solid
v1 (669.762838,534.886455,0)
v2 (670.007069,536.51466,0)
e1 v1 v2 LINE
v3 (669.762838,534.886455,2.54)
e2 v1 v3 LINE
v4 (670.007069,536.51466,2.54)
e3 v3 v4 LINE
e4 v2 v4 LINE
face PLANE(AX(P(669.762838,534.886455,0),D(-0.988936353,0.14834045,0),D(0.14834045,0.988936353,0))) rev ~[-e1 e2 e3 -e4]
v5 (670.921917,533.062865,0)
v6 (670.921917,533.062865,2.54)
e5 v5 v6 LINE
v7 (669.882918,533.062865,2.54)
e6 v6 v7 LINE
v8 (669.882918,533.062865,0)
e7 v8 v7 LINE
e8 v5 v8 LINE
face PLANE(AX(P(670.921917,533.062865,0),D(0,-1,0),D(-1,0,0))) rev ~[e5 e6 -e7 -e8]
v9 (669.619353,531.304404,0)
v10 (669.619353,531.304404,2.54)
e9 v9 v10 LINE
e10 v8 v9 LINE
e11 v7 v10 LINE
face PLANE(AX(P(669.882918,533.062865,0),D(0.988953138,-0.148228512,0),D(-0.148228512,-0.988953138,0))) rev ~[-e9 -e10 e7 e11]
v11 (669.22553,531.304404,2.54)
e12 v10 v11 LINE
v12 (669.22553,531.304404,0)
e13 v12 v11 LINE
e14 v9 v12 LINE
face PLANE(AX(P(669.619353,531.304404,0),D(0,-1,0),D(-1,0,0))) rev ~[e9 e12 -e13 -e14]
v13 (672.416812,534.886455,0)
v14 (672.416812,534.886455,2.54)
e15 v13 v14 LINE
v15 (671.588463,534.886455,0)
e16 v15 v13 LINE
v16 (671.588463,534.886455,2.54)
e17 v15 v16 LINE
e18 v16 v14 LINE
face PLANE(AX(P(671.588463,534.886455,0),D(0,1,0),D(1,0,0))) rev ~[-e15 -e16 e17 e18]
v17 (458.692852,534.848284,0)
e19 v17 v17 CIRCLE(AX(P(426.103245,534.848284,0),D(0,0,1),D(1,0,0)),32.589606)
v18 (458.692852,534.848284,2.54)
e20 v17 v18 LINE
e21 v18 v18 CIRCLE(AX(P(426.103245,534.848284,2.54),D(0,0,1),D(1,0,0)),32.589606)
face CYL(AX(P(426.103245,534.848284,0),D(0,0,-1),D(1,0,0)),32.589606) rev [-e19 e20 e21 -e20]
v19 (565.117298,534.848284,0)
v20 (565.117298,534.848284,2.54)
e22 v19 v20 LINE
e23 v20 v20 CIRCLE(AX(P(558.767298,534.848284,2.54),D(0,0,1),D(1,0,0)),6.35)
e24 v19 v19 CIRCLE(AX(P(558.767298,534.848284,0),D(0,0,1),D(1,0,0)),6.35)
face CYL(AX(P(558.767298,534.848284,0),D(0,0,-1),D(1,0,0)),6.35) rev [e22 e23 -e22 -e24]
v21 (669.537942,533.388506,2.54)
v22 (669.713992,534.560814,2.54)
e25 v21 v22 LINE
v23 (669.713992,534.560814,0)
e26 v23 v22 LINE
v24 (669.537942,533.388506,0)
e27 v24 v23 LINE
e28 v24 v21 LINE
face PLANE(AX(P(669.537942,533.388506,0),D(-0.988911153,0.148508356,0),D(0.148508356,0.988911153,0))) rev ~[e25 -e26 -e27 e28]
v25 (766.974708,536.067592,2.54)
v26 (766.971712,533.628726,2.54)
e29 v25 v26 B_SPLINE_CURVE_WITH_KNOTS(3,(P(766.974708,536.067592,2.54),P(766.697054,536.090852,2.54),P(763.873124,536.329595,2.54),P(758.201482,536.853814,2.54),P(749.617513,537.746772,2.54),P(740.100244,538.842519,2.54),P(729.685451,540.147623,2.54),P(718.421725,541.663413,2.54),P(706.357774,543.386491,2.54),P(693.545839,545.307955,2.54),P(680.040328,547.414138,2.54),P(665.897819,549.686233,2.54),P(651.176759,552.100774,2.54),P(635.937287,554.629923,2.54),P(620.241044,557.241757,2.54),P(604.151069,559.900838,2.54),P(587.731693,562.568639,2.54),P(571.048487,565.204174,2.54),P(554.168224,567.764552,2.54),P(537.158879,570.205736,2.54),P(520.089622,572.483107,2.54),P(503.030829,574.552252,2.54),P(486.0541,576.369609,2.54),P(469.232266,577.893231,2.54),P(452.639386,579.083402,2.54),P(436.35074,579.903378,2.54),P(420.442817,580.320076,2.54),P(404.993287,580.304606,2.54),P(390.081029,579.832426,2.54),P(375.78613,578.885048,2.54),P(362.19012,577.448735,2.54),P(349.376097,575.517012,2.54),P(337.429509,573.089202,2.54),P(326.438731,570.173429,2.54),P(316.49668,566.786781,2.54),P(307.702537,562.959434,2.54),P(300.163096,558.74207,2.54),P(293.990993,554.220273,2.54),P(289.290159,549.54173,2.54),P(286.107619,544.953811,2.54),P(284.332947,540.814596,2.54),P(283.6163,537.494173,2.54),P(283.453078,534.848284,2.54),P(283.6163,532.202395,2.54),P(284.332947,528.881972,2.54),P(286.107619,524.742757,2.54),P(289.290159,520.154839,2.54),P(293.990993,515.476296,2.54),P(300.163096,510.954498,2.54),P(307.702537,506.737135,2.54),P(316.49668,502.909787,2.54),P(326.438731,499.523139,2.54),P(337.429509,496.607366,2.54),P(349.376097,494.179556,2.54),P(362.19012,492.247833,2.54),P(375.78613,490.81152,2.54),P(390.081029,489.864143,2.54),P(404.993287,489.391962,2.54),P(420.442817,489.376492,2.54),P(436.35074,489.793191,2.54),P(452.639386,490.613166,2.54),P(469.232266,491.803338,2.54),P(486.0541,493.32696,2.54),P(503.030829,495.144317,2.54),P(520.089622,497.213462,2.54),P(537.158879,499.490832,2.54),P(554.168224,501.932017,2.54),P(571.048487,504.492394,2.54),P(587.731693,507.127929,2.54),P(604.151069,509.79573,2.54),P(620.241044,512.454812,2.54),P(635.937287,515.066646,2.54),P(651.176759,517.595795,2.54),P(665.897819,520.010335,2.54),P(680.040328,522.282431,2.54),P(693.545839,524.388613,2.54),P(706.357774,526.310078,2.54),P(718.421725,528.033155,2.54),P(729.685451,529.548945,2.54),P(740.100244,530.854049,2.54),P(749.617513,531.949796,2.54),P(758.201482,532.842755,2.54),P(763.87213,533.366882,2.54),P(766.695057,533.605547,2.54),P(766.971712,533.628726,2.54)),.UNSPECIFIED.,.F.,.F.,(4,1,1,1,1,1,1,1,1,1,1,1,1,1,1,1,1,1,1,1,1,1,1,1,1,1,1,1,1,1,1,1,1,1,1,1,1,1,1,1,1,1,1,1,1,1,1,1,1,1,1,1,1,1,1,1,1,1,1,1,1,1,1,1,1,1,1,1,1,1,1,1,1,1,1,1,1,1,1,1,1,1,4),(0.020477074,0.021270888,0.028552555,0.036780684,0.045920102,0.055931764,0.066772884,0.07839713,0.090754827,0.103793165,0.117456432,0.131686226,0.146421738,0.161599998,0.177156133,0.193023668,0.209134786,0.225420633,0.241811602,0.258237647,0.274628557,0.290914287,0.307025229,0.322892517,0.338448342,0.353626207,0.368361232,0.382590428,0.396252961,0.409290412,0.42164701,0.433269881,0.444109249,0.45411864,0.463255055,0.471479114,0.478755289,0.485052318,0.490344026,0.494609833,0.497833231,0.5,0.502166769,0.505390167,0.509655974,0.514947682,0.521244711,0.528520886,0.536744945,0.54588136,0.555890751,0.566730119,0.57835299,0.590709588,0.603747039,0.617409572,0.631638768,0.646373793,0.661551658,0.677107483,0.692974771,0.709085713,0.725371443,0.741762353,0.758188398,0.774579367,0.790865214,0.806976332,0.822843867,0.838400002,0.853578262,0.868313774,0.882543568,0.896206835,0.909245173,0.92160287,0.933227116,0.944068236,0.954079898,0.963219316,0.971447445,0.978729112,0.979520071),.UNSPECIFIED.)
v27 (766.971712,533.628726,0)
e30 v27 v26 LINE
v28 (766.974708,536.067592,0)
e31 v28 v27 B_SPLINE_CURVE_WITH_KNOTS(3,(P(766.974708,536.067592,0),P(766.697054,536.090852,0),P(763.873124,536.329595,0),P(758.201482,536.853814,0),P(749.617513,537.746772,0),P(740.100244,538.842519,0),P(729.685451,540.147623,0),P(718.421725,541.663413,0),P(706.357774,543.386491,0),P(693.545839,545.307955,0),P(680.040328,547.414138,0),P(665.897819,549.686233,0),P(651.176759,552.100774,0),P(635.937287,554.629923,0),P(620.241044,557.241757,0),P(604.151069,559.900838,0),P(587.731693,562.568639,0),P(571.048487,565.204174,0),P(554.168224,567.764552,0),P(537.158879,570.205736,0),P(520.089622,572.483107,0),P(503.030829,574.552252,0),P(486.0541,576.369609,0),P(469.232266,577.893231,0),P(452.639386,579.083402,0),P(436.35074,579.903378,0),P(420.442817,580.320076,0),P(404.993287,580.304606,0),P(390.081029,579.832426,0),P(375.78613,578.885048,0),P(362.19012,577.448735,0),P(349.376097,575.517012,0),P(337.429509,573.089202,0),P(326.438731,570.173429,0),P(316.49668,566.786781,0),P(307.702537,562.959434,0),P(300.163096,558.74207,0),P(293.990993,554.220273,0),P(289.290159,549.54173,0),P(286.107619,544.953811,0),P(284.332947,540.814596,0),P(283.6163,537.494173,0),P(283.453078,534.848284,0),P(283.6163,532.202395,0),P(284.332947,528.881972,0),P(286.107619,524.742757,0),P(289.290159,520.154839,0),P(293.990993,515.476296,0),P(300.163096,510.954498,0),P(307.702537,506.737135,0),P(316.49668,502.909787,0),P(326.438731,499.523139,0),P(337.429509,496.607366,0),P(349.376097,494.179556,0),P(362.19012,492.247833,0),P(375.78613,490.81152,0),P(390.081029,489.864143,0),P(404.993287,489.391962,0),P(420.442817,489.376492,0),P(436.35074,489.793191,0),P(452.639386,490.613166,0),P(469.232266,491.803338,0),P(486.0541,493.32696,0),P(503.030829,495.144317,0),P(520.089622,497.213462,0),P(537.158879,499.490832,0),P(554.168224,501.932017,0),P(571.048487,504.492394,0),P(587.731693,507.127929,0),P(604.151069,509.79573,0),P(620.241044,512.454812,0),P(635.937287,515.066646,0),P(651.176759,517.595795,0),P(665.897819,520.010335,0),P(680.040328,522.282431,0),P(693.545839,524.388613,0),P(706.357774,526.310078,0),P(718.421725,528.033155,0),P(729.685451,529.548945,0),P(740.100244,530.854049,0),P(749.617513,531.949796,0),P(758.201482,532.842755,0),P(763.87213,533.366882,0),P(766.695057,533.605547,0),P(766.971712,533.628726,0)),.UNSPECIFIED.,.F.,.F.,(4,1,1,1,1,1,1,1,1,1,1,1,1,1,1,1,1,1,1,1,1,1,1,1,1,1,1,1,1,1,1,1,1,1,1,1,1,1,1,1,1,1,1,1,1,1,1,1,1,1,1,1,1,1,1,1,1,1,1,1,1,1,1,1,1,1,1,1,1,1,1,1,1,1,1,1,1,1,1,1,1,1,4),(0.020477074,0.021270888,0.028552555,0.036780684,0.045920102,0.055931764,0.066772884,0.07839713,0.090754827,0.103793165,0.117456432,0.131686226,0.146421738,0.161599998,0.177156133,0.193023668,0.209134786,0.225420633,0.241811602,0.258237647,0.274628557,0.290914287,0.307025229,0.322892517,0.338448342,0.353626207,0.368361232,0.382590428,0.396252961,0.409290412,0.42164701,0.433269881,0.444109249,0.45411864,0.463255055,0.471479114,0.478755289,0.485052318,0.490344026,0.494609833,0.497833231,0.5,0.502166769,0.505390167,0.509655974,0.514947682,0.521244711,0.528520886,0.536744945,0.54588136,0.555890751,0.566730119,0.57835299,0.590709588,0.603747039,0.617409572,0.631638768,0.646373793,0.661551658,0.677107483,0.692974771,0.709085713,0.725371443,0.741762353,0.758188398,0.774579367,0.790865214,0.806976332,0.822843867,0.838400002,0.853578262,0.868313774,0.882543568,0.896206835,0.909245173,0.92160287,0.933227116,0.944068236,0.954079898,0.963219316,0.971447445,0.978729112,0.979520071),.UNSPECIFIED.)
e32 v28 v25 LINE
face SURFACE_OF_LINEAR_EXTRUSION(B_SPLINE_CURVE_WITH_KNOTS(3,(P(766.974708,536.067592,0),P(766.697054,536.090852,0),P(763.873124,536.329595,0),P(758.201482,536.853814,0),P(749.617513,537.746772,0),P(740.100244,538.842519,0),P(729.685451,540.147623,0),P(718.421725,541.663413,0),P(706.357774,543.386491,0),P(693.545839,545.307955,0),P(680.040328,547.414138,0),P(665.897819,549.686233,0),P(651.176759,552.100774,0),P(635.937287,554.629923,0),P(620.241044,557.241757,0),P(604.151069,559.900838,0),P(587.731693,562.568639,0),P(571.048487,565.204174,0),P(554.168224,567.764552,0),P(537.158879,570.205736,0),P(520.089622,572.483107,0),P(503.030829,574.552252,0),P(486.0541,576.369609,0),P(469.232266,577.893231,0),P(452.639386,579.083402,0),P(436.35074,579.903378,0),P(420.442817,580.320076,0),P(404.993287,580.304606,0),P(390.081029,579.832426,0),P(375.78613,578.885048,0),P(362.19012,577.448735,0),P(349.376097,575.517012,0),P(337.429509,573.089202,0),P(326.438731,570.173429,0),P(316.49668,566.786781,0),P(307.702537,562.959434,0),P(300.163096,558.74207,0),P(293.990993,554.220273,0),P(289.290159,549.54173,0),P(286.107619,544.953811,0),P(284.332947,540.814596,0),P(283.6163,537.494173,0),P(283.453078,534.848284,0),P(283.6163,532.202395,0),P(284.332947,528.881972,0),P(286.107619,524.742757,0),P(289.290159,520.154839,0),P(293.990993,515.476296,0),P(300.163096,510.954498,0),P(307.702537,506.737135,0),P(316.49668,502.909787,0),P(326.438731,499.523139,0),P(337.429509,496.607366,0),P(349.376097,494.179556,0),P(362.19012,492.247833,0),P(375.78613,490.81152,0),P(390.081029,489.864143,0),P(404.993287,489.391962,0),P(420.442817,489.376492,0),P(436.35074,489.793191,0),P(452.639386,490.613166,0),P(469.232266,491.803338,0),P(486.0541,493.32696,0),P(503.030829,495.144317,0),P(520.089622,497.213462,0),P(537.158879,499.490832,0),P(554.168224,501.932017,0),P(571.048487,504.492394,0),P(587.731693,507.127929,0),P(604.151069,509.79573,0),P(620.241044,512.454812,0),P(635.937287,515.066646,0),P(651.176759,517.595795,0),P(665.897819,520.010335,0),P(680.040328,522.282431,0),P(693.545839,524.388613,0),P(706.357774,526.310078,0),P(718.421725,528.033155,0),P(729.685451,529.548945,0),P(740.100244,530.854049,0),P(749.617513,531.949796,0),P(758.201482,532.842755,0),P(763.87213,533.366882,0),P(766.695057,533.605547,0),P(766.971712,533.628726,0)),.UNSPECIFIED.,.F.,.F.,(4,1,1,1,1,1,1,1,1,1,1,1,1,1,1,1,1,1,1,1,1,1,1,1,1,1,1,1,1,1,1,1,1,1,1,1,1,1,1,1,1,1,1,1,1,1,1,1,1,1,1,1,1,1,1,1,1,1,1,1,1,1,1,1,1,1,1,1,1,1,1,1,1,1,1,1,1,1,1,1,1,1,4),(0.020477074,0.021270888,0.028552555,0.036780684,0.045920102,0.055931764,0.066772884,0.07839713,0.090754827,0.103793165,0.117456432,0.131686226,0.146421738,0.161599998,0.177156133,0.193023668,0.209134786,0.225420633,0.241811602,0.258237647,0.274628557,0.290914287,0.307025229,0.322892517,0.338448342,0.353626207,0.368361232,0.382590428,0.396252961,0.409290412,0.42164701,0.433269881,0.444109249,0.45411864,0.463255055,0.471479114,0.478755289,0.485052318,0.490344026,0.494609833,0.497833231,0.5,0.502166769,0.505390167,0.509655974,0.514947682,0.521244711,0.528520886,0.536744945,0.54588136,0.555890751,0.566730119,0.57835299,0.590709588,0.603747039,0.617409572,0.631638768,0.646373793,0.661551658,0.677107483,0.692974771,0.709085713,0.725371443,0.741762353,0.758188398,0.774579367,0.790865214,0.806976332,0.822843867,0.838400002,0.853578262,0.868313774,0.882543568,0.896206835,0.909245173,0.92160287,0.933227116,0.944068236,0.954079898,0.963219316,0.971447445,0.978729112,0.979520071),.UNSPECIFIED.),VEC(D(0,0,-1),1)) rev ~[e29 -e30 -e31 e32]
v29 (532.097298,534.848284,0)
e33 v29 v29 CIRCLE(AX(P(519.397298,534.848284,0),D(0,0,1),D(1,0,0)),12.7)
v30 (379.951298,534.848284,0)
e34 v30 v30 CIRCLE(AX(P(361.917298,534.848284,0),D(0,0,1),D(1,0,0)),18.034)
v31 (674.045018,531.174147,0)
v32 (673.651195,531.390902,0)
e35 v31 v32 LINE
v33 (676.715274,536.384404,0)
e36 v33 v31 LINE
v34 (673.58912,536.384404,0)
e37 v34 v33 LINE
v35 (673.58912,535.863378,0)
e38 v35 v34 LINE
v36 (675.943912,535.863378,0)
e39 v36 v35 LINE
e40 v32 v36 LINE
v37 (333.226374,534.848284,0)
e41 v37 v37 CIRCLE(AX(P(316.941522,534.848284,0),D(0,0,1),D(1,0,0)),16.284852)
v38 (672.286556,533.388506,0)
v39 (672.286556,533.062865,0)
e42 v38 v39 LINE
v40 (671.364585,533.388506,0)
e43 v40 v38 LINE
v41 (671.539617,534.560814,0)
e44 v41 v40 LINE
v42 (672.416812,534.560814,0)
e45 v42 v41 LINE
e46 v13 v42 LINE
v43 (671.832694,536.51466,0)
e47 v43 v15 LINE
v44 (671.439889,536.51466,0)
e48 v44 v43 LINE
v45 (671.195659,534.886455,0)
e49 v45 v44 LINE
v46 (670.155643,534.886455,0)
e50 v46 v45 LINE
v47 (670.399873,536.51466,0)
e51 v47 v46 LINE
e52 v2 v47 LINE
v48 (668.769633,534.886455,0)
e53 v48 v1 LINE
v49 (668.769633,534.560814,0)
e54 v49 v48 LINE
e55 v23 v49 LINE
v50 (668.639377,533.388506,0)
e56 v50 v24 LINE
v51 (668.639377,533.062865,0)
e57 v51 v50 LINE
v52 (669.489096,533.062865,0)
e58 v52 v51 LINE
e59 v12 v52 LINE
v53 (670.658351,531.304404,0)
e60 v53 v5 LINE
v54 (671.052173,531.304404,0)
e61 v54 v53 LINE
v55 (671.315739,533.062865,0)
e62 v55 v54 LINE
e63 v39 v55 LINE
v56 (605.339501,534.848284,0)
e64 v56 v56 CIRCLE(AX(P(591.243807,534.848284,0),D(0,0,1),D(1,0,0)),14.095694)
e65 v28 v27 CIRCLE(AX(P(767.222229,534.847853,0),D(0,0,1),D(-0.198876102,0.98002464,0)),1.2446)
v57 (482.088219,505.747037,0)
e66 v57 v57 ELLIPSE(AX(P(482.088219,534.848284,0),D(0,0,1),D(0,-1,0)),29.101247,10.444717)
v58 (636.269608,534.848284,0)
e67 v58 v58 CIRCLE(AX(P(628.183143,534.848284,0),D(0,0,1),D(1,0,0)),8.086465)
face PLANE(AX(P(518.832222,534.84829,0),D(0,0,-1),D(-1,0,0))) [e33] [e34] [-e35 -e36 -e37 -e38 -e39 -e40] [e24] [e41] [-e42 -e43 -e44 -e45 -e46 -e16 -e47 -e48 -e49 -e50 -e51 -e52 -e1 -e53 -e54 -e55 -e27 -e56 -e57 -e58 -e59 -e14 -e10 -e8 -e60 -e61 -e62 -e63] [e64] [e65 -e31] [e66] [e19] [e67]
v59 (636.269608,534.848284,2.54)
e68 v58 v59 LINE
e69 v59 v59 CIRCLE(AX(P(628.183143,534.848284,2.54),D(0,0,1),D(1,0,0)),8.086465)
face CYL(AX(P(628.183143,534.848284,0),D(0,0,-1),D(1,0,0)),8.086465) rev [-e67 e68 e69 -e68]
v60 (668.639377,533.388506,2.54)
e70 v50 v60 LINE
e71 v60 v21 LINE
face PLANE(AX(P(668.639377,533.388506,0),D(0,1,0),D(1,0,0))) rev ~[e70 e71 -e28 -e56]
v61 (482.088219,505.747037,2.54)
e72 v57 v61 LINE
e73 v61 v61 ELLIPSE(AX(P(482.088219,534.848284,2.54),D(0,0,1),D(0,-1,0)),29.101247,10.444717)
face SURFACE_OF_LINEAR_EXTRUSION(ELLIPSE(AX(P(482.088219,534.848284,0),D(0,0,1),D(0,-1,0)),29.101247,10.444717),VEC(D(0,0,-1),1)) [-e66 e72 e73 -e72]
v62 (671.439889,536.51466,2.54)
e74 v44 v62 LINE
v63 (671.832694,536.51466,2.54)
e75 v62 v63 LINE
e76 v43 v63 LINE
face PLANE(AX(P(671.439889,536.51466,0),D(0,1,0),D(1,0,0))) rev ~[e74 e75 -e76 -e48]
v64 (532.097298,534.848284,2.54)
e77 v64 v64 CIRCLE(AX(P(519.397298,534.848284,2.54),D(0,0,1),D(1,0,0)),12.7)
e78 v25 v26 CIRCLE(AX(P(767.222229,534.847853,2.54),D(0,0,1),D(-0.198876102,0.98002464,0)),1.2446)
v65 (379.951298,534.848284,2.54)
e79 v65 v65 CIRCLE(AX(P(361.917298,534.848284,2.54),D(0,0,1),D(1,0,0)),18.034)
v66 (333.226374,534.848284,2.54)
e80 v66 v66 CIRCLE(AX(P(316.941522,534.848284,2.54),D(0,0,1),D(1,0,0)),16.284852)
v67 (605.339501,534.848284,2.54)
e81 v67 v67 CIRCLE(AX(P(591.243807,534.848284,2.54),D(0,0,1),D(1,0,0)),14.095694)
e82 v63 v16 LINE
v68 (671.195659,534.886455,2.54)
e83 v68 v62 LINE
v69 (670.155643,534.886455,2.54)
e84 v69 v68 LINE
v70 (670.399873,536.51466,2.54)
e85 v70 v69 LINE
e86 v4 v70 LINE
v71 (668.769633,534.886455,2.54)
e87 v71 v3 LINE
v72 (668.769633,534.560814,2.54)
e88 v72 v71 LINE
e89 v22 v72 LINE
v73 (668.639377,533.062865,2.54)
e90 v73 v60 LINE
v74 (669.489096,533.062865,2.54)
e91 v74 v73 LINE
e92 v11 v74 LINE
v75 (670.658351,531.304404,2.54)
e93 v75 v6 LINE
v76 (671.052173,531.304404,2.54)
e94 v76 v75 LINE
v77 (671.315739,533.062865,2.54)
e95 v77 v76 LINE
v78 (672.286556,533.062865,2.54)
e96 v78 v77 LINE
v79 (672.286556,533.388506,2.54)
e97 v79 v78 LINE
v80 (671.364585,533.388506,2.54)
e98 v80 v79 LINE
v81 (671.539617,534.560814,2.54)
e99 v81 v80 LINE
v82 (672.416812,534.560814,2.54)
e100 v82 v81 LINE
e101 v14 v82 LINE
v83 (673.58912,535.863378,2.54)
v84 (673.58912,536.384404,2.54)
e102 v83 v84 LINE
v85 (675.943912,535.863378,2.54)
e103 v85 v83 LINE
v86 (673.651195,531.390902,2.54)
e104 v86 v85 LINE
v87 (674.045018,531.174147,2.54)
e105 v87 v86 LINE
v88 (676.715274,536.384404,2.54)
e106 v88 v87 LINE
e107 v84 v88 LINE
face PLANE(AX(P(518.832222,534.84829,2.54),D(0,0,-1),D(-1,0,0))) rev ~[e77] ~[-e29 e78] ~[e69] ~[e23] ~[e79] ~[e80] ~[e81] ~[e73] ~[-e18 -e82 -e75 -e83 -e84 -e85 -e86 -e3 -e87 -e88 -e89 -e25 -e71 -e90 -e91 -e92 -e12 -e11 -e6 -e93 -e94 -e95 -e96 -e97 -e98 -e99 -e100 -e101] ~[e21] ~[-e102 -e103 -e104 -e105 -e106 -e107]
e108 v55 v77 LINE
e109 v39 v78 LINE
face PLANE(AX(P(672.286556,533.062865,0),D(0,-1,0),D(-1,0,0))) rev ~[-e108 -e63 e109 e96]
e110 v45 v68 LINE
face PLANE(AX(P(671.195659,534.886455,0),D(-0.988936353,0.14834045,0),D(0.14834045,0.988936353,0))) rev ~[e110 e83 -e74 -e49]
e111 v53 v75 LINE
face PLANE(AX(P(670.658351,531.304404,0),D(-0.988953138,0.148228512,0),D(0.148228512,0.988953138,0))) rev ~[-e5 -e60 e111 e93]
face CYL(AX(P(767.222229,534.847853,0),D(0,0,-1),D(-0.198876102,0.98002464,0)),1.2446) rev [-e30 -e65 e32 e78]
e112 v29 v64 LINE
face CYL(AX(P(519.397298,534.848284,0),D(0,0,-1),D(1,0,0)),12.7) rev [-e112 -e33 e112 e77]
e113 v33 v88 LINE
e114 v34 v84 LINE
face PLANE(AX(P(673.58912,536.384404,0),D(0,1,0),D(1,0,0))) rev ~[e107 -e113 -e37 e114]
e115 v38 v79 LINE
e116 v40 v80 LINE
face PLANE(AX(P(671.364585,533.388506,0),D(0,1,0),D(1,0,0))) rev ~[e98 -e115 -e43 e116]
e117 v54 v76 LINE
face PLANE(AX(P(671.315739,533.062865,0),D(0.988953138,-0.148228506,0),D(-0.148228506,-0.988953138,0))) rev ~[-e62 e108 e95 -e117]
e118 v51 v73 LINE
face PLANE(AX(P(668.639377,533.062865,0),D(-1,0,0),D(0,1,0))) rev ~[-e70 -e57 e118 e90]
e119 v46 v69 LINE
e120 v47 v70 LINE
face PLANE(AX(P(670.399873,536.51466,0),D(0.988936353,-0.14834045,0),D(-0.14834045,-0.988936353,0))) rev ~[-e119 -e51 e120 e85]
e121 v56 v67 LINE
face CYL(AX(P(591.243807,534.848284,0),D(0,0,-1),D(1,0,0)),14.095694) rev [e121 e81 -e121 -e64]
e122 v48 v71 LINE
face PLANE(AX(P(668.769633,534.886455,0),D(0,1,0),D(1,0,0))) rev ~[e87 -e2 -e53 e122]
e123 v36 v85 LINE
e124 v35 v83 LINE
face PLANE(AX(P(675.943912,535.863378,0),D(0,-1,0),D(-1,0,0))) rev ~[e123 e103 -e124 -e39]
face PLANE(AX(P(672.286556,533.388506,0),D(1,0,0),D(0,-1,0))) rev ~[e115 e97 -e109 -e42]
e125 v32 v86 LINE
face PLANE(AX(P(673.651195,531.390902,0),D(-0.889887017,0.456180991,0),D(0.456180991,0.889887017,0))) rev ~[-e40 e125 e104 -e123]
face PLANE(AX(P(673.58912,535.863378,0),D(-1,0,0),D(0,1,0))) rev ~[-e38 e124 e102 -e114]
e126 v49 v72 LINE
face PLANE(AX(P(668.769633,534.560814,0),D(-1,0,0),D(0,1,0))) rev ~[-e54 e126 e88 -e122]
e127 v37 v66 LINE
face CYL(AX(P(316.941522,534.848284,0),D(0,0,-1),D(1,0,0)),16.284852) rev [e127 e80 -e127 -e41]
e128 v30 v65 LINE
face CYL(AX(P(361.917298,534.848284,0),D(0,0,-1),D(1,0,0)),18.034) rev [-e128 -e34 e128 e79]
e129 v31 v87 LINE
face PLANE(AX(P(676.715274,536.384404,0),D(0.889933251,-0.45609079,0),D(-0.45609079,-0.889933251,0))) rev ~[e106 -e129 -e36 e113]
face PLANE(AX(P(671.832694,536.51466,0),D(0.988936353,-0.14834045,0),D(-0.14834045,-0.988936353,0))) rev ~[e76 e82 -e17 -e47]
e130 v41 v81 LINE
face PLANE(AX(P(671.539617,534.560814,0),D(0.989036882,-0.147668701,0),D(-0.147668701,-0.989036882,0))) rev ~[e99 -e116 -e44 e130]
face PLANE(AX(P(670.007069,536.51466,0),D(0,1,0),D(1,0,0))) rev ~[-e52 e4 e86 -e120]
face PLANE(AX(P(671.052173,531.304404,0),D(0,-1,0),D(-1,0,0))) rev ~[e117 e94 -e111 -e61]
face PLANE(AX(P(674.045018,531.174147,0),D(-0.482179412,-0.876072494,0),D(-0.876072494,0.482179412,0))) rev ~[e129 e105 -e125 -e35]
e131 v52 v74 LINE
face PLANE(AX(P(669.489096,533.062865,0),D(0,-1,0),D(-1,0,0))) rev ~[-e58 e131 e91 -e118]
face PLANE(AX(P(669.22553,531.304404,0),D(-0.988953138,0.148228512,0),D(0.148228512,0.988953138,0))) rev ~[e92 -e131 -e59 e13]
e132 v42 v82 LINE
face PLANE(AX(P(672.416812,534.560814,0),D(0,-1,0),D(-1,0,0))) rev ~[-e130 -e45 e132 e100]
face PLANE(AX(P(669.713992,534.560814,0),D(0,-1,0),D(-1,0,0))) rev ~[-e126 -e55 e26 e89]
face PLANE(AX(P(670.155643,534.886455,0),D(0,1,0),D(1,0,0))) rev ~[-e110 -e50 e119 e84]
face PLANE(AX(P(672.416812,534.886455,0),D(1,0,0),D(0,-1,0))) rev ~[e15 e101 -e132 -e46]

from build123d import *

# Parameters (mm, degrees)
SKETCH2_R           = 16.284851911
SKETCH2_R_2         = 8.086464582
SKETCH2_R_3         = 14.095693802
SKETCH2_R_4         = 6.35
SKETCH2_R_5         = 12.7
SKETCH2_R_6         = 32.589606416
SKETCH2_R_7         = 18.034
SKETCH2_RX          = 29.101247041
SKETCH2_RY          = 10.44471683
BOSS_EXTRUDE1_DEPTH = 2.54


with BuildPart() as part:
    # Sketch2 → Boss-Extrude1 (new body)
    with BuildSketch(Plane.XY):
        with BuildLine():
            ThreePointArc((766.974707566, 536.0675915), (765.977629702, 534.849381698), (766.971711663, 533.628725955))
            add(Edge.make_bspline(
                [(766.974707566, 536.0675915), (766.697054085, 536.090852324), (763.873123694, 536.329594825), (758.201482231, 536.853813505), (749.6175132, 537.746772238), (740.100244032, 538.842519253), (729.685451337, 540.147623314), (718.421724616, 541.663413247), (706.357773545, 543.386490706), (693.545839391, 545.307955256), (680.040327856, 547.414137956), (665.897819132, 549.686233311), (651.17675853, 552.100773697), (635.937286586, 554.629922582), (620.241044202, 557.241756825), (604.151069344, 559.900838292), (587.731693374, 562.568639299), (571.048486813, 565.204174172), (554.168223798, 567.764551636), (537.158879427, 570.205736164), (520.089621791, 572.483106682), (503.030828763, 574.552251895), (486.054099694, 576.369608591), (469.232266346, 577.893230912), (452.639385938, 579.08340224), (436.35073971, 579.903377869), (420.442816542, 580.320076354), (404.993286939, 580.304606106), (390.081029155, 579.832425784), (375.786130426, 578.885048081), (362.190119693, 577.44873509), (349.376096715, 575.517012434), (337.429508833, 573.089202487), (326.438731105, 570.173429157), (316.496679793, 566.786781081), (307.702536547, 562.959433862), (300.163095536, 558.742070099), (293.990992596, 554.220272545), (289.290158899, 549.541729576), (286.107619349, 544.953811108), (284.332946603, 540.814596473), (283.616300203, 537.49417308), (283.453077529, 534.848284229), (283.616300203, 532.202395378), (284.332946603, 528.881971984), (286.107619349, 524.74275735), (289.290158899, 520.154838882), (293.990992596, 515.476295913), (300.163095536, 510.954498359), (307.702536547, 506.737134595), (316.496679793, 502.909787376), (326.438731105, 499.5231393), (337.429508833, 496.607365971), (349.376096715, 494.179556024), (362.190119693, 492.247833368), (375.786130426, 490.811520377), (390.081029155, 489.864142673), (404.993286939, 489.391962352), (420.442816542, 489.376492104), (436.35073971, 489.793190588), (452.639385938, 490.613166218), (469.232266346, 491.803337546), (486.054099694, 493.326959867), (503.030828763, 495.144316563), (520.089621791, 497.213461776), (537.158879427, 499.490832294), (554.168223798, 501.932016822), (571.048486813, 504.492394286), (587.731693374, 507.127929158), (604.151069344, 509.795730166), (620.241044202, 512.454811633), (635.937286586, 515.066645875), (651.17675853, 517.59579476), (665.897819132, 520.010335147), (680.040327856, 522.282430502), (693.545839391, 524.388613201), (706.357773545, 526.310077751), (718.421724616, 528.03315521), (729.685451337, 529.548945144), (740.100244032, 530.854049204), (749.6175132, 531.94979622), (758.201482231, 532.842754952), (763.872130469, 533.366881831), (766.695057272, 533.605547314), (766.971711663, 533.628725955)],
                knots=[0.020477074, 0.020477074, 0.020477074, 0.020477074, 0.021270888, 0.028552555, 0.036780684, 0.045920102, 0.055931764, 0.066772884, 0.07839713, 0.090754827, 0.103793165, 0.117456432, 0.131686226, 0.146421738, 0.161599998, 0.177156133, 0.193023668, 0.209134786, 0.225420633, 0.241811602, 0.258237647, 0.274628557, 0.290914287, 0.307025229, 0.322892517, 0.338448342, 0.353626207, 0.368361232, 0.382590428, 0.396252961, 0.409290412, 0.42164701, 0.433269881, 0.444109249, 0.45411864, 0.463255055, 0.471479114, 0.478755289, 0.485052318, 0.490344026, 0.494609833, 0.497833231, 0.5, 0.502166769, 0.505390167, 0.509655974, 0.514947682, 0.521244711, 0.528520886, 0.536744945, 0.54588136, 0.555890751, 0.566730119, 0.57835299, 0.590709588, 0.603747039, 0.617409572, 0.631638768, 0.646373793, 0.661551658, 0.677107483, 0.692974771, 0.709085713, 0.725371443, 0.741762353, 0.758188398, 0.774579367, 0.790865214, 0.806976332, 0.822843867, 0.838400002, 0.853578262, 0.868313774, 0.882543568, 0.896206835, 0.909245173, 0.92160287, 0.933227116, 0.944068236, 0.954079898, 0.963219316, 0.971447445, 0.978729112, 0.979520071, 0.979520071, 0.979520071, 0.979520071], degree=3))
        make_face()
        with Locations((316.941522214, 534.848284226)):
            Circle(SKETCH2_R, mode=Mode.SUBTRACT)
        with Locations((628.18314295, 534.848284226)):
            Circle(SKETCH2_R_2, mode=Mode.SUBTRACT)
        with Locations((591.243806812, 534.848284226)):
            Circle(SKETCH2_R_3, mode=Mode.SUBTRACT)
        with Locations((558.767297683, 534.848284226)):
            Circle(SKETCH2_R_4, mode=Mode.SUBTRACT)
        with Locations((519.397297683, 534.848284226)):
            Circle(SKETCH2_R_5, mode=Mode.SUBTRACT)
        with Locations((426.103245257, 534.848284226)):
            Circle(SKETCH2_R_6, mode=Mode.SUBTRACT)
        with Locations((361.917297683, 534.848284226)):
            Circle(SKETCH2_R_7, mode=Mode.SUBTRACT)
        with Locations(Location((482.088218682, 534.848284226), (0, 0, -90))):
            Ellipse(SKETCH2_RX, SKETCH2_RY, mode=Mode.SUBTRACT)
        Polygon((672.286556039, 533.388506256), (672.286556039, 533.062865231), (671.315738727, 533.062865231), (671.052173026, 531.304403693), (670.658350903, 531.304403693), (670.921916614, 533.062865231), (669.882918215, 533.062865231), (669.619352504, 531.304403693), (669.225530391, 531.304403693), (669.489096102, 533.062865231), (668.639376551, 533.062865231), (668.639376551, 533.388506256), (669.537942252, 533.388506256), (669.713991928, 534.560813945), (668.769632953, 534.560813945), (668.769632953, 534.88645497), (669.762838089, 534.88645497), (670.007068853, 536.514660095), (670.39987334, 536.514660095), (670.155642577, 534.88645497), (671.195658602, 534.88645497), (671.439889365, 536.514660095), (671.832693853, 536.514660095), (671.588463089, 534.88645497), (672.416812441, 534.88645497), (672.416812441, 534.560813945), (671.539616928, 534.560813945), (671.364584878, 533.388506256), align=None, mode=Mode.SUBTRACT)
        Polygon((673.589120139, 536.384403693), (676.715273978, 536.384403693), (674.045017577, 531.174147281), (673.651195453, 531.390902083), (675.943911803, 535.863378045), (673.589120139, 535.863378045), align=None, mode=Mode.SUBTRACT)
    extrude(amount=BOSS_EXTRUDE1_DEPTH)


solid = part.part
